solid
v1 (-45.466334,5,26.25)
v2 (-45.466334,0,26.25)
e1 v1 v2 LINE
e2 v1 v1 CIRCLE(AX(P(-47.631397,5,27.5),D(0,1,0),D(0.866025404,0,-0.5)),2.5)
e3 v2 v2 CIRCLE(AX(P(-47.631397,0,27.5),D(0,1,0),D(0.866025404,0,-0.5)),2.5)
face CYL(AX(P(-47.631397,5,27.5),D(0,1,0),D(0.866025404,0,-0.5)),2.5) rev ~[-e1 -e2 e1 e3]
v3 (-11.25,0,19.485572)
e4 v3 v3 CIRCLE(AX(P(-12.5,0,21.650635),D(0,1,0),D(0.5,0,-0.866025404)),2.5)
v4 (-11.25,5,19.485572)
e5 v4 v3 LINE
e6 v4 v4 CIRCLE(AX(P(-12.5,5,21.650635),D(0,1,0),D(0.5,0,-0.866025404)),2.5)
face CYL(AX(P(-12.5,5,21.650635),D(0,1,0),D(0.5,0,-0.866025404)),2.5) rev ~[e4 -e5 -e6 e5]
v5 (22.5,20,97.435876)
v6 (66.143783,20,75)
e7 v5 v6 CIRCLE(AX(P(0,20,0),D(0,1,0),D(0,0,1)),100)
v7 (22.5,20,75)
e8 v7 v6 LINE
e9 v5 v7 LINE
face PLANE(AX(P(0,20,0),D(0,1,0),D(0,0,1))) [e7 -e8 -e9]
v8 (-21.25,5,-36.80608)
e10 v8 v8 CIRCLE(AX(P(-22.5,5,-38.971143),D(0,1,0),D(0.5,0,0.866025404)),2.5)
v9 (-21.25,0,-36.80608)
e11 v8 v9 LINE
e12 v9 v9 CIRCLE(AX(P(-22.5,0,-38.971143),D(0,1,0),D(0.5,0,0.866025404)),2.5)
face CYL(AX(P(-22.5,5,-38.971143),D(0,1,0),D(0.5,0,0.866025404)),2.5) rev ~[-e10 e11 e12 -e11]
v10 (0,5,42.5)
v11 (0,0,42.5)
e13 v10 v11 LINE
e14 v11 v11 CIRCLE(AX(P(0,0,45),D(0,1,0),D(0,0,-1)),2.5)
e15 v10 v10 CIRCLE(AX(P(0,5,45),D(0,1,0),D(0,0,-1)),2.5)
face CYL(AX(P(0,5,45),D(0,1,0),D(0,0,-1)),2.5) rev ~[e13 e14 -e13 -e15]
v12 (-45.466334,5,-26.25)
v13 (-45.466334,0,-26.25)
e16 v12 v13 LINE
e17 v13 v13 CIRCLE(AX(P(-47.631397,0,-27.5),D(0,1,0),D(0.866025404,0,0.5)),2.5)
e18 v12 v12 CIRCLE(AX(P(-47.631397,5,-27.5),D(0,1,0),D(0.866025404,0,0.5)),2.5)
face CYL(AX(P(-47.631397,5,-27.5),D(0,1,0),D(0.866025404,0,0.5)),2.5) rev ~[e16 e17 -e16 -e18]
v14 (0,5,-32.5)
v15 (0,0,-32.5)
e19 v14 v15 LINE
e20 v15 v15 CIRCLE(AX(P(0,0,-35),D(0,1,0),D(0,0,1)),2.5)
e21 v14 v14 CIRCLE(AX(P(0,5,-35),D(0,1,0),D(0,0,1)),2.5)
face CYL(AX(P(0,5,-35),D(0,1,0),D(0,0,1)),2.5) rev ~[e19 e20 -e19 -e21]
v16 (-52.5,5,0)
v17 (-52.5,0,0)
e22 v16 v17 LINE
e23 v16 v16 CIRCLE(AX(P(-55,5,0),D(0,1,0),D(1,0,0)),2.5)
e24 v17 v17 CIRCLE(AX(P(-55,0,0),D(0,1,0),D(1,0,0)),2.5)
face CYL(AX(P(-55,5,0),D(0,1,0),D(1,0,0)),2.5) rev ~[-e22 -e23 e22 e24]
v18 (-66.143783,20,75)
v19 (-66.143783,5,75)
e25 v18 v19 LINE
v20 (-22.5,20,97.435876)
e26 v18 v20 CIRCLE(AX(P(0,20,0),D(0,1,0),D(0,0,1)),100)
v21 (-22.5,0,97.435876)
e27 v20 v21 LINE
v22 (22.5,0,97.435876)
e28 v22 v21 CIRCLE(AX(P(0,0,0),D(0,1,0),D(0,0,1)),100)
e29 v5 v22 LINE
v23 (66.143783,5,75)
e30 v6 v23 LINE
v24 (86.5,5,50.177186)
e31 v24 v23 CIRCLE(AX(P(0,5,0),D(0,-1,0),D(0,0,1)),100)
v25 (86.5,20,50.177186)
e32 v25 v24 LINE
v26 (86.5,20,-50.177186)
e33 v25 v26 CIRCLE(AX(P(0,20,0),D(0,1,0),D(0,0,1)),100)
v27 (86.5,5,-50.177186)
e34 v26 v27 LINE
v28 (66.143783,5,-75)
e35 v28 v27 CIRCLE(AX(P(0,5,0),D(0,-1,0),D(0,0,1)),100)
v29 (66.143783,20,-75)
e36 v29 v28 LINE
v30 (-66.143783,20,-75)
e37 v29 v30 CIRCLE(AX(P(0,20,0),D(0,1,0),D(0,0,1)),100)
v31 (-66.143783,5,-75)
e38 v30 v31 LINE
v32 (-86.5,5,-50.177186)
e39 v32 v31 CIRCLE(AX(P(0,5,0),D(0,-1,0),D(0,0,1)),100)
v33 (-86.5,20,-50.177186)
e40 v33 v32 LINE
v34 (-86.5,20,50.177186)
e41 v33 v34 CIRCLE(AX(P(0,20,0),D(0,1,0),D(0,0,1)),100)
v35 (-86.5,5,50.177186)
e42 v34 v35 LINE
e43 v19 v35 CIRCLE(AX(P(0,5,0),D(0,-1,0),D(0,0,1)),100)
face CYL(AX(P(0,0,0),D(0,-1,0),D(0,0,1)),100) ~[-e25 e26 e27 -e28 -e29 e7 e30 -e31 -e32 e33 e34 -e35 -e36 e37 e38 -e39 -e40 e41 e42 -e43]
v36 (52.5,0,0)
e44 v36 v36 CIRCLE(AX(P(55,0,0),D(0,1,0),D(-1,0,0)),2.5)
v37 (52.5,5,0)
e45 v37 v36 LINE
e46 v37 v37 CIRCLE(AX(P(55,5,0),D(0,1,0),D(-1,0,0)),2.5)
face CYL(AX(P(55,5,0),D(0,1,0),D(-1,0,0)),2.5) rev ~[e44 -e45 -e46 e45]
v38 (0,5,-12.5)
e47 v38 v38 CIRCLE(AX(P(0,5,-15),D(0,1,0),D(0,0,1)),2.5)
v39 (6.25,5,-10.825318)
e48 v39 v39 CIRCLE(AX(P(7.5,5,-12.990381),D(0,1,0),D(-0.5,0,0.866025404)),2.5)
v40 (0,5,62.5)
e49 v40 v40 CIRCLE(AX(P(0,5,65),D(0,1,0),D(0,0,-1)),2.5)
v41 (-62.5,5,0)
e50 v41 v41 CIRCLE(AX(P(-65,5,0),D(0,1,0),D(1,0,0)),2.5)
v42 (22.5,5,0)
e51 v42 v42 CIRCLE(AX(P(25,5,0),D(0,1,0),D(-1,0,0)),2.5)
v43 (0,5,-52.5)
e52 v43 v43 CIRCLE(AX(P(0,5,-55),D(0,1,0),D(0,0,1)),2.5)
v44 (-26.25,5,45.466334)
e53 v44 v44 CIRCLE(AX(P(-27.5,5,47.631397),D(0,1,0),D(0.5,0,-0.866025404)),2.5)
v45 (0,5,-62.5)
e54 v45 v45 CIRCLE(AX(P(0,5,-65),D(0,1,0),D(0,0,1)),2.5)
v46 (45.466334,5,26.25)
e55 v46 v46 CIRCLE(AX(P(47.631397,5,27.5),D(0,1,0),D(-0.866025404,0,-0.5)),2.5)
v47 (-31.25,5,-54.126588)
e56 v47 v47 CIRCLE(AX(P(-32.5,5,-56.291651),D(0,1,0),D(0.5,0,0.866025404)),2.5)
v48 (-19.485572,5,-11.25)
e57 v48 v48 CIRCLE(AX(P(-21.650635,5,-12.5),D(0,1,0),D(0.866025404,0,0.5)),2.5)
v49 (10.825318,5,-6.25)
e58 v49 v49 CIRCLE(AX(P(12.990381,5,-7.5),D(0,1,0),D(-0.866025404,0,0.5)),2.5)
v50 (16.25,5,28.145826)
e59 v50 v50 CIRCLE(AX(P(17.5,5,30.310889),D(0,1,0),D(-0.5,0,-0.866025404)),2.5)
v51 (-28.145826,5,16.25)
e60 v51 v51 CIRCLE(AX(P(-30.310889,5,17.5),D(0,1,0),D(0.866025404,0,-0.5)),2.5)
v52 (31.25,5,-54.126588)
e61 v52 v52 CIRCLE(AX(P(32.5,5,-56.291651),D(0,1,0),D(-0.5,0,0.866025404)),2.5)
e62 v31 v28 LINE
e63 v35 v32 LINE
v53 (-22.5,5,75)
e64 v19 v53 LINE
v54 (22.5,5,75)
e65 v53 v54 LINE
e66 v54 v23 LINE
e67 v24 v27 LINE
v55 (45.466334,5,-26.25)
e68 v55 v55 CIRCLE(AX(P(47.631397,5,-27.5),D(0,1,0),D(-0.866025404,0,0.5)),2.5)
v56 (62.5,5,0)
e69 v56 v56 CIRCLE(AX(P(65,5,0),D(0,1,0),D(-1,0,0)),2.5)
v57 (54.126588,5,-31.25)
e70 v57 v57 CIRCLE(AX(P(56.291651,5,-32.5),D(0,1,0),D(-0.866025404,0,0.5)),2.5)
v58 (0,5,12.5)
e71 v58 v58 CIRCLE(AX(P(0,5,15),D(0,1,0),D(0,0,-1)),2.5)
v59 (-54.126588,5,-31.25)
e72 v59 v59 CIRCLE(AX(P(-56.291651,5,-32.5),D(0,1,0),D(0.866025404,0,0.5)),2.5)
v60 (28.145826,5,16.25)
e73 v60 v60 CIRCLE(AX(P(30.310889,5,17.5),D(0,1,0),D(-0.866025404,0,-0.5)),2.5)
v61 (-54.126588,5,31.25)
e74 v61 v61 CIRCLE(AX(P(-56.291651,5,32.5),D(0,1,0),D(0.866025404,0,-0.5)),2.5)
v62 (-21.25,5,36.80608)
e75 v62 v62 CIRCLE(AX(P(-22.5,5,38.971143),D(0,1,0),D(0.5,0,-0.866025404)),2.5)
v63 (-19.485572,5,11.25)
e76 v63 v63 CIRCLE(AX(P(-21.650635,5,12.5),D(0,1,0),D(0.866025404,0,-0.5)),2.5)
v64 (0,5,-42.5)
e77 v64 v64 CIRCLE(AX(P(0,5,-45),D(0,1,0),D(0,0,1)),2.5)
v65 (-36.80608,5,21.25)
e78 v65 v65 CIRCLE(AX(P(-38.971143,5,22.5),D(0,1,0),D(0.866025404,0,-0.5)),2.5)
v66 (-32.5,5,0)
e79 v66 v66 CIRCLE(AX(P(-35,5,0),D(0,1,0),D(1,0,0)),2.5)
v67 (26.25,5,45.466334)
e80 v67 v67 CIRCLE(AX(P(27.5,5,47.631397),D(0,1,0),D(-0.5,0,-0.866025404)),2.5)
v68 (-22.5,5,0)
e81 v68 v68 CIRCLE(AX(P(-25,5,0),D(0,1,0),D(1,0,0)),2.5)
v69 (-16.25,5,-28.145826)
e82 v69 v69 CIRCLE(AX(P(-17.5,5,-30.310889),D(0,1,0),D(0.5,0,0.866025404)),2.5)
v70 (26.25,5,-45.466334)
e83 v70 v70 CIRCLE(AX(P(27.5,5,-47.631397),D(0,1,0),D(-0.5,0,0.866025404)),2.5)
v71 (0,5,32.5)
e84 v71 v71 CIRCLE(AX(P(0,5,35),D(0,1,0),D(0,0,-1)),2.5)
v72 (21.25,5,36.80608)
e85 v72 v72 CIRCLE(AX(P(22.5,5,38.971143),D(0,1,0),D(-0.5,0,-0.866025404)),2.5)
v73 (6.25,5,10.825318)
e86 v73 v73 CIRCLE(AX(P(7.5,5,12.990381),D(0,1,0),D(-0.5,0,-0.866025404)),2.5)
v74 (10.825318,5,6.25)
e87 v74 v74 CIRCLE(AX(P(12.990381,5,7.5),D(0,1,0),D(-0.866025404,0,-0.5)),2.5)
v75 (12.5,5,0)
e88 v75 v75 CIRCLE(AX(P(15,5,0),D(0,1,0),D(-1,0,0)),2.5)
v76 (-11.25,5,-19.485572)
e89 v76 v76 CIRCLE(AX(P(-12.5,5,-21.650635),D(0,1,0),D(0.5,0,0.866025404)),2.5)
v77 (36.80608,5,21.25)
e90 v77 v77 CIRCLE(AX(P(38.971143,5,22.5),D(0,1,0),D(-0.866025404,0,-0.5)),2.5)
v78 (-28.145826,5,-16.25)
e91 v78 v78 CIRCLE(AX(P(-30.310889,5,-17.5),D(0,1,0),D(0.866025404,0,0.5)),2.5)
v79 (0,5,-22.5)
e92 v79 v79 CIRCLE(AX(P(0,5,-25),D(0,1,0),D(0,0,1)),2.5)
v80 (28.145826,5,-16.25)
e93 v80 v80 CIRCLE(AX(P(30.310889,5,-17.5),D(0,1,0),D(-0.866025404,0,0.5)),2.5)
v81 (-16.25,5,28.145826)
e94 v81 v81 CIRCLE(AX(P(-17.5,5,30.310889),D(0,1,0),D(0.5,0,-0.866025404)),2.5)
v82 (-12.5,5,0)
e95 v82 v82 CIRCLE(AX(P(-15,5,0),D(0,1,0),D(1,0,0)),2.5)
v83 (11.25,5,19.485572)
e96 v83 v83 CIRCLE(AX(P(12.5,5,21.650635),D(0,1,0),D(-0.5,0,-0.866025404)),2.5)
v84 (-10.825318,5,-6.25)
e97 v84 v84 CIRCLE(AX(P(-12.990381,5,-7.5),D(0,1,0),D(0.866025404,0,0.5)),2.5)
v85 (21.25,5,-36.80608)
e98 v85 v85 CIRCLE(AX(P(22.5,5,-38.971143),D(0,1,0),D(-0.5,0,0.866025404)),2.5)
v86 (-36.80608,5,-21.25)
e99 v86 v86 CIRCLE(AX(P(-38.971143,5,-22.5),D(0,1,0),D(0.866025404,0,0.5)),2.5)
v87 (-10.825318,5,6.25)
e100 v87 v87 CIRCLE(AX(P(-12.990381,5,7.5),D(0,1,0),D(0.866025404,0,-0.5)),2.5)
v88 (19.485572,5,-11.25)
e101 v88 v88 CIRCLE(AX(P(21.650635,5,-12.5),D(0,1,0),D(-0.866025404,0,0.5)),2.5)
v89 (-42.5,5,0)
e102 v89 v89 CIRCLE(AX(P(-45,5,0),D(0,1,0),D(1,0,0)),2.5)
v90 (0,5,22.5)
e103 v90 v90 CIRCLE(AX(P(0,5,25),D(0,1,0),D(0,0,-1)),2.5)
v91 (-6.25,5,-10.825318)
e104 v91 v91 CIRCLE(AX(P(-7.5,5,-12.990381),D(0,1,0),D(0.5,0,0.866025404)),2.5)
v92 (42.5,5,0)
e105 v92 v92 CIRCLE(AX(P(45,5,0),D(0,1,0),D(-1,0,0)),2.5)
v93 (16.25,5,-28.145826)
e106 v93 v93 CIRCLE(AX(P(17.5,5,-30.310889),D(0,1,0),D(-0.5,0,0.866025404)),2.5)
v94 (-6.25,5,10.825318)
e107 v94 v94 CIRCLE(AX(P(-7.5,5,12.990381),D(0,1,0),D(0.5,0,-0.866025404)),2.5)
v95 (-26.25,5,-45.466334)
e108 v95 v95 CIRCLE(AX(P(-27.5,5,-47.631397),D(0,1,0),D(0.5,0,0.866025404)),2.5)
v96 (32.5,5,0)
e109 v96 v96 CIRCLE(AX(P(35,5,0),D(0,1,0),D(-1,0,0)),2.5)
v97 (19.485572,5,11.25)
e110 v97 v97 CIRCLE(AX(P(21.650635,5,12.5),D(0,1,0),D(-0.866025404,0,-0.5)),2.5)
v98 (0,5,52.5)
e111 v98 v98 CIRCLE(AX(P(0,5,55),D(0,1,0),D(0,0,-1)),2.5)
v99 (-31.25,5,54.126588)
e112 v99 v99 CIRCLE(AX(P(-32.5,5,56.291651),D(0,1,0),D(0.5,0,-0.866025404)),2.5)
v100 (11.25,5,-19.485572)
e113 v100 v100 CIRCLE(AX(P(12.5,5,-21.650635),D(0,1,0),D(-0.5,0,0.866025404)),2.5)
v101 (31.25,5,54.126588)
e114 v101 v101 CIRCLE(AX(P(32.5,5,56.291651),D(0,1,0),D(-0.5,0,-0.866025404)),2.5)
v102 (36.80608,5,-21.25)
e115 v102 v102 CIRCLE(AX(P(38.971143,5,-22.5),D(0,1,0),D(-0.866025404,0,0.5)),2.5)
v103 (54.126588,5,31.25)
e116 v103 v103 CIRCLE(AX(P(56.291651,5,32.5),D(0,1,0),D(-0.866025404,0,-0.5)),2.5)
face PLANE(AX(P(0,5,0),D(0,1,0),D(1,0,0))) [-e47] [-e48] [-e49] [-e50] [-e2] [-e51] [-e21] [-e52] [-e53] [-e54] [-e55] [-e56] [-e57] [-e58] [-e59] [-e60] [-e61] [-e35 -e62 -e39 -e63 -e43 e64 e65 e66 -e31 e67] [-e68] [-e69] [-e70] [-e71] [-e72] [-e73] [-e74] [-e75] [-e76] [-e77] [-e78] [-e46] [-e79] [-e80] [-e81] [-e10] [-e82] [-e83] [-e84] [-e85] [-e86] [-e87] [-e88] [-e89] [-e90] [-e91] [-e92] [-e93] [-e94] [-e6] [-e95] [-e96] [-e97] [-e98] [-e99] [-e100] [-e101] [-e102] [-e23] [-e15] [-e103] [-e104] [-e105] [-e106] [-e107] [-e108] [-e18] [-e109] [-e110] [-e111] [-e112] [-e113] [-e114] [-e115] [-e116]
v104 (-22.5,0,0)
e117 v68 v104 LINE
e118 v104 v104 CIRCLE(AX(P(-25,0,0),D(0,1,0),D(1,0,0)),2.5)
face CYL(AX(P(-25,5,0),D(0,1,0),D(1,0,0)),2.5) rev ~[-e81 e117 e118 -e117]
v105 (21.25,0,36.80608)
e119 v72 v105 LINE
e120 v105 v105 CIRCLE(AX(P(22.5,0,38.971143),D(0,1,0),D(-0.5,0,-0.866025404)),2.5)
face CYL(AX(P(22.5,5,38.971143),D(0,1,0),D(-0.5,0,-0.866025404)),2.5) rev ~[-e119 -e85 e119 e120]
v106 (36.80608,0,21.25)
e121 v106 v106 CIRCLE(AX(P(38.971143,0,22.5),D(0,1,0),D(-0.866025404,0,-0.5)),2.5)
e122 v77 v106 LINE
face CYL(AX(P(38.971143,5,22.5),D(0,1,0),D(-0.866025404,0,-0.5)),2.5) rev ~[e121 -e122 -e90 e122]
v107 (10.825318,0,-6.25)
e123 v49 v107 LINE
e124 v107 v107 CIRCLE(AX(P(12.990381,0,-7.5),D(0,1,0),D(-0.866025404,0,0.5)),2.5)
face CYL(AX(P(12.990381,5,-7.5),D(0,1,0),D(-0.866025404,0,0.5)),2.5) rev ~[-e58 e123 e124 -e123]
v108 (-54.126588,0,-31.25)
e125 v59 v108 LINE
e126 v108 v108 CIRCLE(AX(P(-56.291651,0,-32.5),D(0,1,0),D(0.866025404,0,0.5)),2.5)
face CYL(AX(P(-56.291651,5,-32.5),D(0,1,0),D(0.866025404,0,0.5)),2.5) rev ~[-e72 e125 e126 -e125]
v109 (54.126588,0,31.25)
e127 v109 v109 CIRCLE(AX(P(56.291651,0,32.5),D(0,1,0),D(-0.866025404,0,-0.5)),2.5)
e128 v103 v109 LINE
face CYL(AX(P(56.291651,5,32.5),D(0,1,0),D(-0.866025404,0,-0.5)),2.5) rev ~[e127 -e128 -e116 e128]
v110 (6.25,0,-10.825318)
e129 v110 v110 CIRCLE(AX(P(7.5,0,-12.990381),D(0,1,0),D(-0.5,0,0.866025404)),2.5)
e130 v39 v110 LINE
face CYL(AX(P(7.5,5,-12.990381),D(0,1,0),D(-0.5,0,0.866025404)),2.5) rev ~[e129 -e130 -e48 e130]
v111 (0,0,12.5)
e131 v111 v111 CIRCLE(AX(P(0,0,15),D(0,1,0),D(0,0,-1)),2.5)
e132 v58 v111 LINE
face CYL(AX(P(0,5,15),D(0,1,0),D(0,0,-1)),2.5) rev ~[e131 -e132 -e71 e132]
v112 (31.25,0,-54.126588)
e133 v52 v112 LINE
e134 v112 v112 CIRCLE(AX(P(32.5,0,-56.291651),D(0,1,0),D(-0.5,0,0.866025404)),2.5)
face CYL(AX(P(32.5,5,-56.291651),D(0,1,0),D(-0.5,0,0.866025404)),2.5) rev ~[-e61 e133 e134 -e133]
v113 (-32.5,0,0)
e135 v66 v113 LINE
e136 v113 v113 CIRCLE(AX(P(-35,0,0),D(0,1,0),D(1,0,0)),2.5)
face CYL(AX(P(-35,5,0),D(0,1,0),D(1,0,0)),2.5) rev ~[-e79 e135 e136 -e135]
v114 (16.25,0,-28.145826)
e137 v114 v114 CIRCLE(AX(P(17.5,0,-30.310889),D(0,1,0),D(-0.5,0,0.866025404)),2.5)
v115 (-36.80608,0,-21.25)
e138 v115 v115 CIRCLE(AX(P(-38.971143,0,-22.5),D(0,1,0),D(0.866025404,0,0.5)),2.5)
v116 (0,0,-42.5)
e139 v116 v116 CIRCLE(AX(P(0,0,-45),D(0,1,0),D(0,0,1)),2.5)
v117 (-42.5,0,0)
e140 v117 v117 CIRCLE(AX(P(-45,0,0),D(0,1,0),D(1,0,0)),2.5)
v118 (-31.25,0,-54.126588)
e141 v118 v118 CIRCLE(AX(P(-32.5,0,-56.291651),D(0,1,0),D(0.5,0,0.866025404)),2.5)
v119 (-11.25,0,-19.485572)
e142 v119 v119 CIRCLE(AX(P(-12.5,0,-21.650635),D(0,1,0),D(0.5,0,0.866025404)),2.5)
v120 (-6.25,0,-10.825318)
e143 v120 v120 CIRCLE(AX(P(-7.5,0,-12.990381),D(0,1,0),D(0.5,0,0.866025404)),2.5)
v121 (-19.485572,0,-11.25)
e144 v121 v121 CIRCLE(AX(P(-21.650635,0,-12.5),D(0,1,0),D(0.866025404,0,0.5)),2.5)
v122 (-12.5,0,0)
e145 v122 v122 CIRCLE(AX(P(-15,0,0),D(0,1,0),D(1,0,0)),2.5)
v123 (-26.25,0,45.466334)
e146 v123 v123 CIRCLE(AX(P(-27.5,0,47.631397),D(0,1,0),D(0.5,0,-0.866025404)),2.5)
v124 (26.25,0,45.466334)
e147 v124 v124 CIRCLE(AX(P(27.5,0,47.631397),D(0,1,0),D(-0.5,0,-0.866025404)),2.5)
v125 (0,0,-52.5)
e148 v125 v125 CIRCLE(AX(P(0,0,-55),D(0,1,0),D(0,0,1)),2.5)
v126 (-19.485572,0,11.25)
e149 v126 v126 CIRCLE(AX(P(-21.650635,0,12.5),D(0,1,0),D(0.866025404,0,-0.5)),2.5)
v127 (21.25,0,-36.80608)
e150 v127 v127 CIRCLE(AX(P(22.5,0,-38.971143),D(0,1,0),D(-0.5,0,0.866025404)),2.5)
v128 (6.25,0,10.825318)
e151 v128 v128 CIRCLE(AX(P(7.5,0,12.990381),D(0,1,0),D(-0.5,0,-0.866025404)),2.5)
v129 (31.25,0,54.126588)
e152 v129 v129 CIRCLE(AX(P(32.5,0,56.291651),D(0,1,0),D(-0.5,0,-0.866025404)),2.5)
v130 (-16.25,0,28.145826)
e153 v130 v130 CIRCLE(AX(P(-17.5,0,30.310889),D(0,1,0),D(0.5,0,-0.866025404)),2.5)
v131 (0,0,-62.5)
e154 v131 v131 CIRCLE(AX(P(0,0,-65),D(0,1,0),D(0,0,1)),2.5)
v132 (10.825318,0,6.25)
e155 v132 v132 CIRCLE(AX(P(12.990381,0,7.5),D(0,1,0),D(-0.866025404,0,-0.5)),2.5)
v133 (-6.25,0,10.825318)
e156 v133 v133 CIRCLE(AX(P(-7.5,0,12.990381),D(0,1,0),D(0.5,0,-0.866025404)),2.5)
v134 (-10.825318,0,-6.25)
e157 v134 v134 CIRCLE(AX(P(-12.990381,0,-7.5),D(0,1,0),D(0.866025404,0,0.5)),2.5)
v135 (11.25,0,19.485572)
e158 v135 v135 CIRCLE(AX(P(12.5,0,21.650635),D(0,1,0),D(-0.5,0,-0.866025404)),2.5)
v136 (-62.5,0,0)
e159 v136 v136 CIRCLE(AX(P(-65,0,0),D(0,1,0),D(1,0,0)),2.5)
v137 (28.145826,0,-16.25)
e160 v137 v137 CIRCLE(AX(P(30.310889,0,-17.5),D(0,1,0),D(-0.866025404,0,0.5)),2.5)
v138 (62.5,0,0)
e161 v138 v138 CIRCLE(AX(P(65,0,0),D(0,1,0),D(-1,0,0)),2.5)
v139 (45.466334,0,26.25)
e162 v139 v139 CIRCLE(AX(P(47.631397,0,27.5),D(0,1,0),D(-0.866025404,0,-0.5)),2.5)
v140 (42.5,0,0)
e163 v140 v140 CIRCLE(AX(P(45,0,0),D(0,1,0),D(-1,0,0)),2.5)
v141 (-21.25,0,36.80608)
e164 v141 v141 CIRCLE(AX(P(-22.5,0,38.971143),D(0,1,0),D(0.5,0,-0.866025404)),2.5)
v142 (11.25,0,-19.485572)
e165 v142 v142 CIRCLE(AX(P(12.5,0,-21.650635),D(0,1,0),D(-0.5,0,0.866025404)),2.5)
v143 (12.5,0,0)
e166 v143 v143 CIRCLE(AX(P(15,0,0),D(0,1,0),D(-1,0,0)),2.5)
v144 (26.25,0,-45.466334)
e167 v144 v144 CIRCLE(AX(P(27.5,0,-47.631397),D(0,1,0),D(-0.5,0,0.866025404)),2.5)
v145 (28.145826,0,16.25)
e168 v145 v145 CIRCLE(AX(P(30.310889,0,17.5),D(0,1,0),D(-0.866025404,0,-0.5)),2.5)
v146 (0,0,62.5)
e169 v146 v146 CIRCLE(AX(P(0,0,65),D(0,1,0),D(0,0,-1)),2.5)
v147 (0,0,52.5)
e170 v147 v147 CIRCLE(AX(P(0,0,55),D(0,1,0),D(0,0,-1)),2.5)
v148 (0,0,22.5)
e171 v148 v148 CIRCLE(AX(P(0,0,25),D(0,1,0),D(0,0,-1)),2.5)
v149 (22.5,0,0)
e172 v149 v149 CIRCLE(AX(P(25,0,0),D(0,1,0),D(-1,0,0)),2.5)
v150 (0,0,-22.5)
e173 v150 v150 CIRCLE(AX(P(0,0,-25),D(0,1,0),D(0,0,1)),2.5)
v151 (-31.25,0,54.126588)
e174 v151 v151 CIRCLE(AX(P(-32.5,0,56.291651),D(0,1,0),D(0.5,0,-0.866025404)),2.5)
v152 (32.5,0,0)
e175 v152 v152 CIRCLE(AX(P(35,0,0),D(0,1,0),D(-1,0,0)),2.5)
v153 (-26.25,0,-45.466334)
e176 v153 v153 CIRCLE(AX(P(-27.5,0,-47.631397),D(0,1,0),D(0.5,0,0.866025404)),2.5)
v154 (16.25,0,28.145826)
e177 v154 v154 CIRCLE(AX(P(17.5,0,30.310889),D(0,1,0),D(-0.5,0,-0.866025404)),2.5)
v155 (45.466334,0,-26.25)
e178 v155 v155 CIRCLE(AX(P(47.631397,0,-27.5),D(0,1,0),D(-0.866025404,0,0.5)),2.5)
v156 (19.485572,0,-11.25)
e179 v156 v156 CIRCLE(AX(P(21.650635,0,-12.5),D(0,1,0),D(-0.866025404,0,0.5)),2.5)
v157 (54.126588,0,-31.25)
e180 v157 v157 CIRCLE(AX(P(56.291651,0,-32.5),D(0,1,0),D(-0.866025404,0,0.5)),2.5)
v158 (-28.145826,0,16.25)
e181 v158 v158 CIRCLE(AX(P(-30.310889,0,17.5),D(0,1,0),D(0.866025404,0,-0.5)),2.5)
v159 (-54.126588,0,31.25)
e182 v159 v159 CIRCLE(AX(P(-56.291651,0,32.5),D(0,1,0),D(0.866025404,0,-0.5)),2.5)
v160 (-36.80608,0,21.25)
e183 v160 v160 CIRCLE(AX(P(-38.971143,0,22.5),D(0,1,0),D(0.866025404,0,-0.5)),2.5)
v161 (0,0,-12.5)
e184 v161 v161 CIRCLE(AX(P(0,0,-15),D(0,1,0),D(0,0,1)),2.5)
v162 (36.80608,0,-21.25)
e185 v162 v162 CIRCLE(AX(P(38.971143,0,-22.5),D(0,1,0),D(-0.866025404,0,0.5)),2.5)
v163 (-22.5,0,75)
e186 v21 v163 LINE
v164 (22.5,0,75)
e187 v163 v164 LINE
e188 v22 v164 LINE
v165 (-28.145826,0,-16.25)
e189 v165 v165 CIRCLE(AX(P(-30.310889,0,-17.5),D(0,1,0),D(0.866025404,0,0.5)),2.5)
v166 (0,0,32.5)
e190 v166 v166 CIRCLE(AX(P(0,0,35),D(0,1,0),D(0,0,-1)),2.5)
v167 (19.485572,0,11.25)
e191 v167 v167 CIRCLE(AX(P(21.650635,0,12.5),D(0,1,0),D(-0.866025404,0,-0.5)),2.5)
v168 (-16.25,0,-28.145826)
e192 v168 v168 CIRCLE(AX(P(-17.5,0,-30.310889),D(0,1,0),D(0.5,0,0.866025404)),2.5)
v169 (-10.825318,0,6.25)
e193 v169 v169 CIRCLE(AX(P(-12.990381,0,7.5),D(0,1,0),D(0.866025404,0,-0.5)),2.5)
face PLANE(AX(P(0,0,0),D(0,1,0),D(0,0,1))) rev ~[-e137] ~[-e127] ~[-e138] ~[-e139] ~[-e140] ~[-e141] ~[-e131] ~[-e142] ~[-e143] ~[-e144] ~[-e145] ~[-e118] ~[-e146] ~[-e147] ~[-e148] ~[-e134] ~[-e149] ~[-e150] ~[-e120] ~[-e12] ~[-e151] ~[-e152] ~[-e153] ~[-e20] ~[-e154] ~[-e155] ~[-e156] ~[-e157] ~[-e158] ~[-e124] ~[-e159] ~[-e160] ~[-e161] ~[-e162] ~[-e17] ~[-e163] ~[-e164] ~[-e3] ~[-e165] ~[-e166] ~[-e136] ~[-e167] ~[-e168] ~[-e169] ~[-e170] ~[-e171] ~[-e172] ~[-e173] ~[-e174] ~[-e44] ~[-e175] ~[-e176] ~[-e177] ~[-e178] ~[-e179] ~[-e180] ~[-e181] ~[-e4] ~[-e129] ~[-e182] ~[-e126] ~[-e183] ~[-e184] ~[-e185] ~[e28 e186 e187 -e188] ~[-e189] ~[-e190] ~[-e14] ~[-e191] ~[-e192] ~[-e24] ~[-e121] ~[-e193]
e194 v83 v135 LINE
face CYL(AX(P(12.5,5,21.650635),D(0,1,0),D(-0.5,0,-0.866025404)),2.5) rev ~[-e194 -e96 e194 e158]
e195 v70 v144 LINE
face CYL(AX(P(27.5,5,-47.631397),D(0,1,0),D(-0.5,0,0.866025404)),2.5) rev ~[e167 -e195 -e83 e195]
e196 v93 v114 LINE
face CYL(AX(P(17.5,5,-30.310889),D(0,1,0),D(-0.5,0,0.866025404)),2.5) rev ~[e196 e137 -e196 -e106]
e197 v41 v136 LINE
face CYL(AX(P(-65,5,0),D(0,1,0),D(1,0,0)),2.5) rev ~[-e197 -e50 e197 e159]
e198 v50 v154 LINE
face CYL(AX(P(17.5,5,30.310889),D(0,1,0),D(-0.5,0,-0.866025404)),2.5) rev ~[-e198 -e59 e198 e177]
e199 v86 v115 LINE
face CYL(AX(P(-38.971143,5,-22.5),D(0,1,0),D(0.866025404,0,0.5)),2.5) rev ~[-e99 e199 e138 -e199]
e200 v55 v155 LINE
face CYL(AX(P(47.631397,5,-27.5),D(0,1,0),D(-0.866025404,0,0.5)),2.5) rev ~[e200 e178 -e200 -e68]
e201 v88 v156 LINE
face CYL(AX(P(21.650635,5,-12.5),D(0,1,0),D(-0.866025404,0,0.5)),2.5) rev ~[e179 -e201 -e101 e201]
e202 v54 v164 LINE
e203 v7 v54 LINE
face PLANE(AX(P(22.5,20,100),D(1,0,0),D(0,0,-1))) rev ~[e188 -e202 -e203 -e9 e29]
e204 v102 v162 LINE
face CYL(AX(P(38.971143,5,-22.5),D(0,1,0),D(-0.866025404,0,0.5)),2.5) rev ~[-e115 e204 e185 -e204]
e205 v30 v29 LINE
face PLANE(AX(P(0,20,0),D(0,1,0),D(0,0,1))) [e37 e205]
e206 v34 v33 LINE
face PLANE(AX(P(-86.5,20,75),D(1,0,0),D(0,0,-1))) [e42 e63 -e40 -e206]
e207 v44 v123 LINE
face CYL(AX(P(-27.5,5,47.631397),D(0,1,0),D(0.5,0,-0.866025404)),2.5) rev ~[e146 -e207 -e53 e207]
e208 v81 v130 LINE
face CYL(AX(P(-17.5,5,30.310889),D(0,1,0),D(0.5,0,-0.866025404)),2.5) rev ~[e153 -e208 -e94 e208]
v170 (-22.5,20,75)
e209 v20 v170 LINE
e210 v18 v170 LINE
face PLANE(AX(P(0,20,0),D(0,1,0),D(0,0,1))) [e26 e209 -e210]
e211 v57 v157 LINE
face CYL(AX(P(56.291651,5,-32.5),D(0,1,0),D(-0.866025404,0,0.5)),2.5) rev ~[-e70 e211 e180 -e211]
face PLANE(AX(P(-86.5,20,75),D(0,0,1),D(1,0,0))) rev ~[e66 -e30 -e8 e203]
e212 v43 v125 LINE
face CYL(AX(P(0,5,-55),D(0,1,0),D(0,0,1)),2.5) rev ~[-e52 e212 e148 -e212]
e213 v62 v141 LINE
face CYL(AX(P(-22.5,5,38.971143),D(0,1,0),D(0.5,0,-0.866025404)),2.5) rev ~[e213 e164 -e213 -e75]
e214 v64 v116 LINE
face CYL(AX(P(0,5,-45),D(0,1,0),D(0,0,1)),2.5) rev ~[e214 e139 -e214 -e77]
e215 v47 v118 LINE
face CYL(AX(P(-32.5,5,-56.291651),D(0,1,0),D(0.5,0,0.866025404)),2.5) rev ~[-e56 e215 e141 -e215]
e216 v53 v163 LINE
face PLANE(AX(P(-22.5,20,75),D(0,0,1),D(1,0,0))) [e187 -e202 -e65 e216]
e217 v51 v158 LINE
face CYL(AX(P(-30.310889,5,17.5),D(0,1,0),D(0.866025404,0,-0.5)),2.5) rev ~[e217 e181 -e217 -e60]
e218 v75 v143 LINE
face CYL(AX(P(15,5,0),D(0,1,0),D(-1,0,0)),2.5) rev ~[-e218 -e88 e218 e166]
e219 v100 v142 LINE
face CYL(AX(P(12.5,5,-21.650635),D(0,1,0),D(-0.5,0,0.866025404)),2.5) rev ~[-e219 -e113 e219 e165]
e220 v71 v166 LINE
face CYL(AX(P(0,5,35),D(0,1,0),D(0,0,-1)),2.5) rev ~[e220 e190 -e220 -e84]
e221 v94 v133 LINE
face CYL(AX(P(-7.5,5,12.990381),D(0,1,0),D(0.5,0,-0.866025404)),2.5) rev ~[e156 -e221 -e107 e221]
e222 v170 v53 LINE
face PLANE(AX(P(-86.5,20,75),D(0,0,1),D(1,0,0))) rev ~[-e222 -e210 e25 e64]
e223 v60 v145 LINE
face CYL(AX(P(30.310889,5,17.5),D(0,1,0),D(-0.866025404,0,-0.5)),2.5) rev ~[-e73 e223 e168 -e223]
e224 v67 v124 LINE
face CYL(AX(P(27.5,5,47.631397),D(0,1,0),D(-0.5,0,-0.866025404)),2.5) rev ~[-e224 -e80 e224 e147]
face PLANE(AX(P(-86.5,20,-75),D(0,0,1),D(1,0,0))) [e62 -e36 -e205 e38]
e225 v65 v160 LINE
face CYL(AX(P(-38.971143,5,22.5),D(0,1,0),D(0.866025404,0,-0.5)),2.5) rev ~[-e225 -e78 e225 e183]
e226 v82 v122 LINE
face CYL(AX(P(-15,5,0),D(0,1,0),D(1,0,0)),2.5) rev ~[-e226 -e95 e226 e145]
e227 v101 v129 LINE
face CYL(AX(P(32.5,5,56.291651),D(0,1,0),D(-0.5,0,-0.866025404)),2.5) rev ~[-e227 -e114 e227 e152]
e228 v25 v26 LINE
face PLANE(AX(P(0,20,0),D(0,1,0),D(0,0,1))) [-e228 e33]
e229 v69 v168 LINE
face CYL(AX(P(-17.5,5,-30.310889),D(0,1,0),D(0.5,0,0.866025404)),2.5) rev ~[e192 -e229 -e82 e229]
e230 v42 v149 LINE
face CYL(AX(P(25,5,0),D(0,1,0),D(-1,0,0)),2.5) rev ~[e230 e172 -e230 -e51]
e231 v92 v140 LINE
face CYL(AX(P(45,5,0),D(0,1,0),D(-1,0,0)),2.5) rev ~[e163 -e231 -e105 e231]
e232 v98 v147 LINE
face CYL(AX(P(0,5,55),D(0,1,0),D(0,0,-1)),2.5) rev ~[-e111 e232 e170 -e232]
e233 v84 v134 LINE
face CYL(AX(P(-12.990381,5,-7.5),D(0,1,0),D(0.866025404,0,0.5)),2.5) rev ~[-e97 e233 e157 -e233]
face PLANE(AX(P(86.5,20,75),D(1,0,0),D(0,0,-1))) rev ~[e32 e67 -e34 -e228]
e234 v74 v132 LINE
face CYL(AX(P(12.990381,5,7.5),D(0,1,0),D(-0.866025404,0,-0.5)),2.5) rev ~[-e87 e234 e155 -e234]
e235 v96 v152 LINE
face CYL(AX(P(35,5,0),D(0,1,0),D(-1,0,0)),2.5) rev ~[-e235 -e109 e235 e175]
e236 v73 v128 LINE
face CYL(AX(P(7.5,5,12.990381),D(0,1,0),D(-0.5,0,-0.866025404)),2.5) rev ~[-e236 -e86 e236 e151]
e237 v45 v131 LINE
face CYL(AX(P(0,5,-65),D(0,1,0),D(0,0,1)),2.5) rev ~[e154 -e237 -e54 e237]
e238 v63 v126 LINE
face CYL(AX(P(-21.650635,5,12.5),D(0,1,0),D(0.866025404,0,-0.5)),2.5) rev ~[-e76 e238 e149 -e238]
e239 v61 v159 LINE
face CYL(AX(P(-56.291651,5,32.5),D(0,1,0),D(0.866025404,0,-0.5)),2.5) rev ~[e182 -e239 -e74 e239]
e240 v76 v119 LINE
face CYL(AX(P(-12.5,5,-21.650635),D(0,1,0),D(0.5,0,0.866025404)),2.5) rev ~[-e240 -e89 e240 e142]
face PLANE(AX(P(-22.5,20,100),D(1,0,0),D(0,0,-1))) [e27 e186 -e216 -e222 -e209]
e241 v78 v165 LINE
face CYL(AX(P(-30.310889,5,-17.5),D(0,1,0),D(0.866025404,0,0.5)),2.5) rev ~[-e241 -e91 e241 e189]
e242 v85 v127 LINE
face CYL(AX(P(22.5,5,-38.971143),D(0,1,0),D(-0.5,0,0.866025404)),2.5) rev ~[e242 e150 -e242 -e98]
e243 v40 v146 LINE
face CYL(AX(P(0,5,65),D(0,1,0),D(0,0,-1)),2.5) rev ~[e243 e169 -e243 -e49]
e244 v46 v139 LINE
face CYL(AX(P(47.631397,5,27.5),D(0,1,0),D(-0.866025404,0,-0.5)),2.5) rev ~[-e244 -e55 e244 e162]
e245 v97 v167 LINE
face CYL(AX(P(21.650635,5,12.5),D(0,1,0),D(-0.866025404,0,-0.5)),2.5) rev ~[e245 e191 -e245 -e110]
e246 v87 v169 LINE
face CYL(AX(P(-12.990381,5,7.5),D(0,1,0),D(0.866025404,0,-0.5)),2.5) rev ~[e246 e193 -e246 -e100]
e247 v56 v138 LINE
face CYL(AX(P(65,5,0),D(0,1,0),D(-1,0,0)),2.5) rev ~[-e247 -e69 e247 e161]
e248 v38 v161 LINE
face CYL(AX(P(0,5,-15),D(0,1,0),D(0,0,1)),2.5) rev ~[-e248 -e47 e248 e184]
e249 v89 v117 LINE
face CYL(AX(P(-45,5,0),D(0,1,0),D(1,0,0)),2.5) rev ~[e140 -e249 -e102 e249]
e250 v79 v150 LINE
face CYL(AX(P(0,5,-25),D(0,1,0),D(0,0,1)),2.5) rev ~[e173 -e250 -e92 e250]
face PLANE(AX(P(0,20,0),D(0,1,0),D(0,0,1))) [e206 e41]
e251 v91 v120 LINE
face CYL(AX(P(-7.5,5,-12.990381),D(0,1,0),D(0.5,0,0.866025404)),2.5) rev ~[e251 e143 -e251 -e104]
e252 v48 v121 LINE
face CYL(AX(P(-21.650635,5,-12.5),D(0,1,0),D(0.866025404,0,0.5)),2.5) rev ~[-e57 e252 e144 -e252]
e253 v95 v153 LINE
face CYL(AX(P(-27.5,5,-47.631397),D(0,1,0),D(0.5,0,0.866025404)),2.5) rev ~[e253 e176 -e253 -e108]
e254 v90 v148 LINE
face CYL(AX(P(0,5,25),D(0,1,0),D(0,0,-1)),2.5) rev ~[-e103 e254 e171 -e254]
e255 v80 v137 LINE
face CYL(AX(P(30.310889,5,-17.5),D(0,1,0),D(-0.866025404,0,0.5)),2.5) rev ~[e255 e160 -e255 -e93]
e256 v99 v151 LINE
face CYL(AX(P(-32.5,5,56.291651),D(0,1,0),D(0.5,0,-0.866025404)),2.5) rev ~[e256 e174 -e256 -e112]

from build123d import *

# Parameters (mm, degrees)
SKETCH_1_R               = 100
EXTRUDE_1_DEPTH          = 20
SKETCH_2_W               = 173
SKETCH_2_H               = 150
CUT_EXTRUDE_1_DEPTH      = 15
SKETCH_3_R               = 2.5
CUT_EXTRUDE_2_DEPTH      = 143.214626533
PATTERN_CIRCULAR_2_COUNT = 12
SKETCH_4_W               = 45
SKETCH_4_H               = 25
CUT_EXTRUDE_3_DEPTH      = 143.828568571


with BuildPart() as part:
    # 草圖1 → 填料-伸長1 (new body)
    with BuildSketch(Plane(origin=(0, 0, 0), x_dir=(1, 0, 0), z_dir=(0, 1, 0))):
        Circle(SKETCH_1_R)
    extrude(amount=EXTRUDE_1_DEPTH)

    # 草圖2 → 除料-伸長1 (cut)
    with BuildSketch(Plane(origin=(0, 20, 0), x_dir=(1, 0, 0), z_dir=(0, 1, 0))):
        Rectangle(SKETCH_2_W, SKETCH_2_H)
    extrude(amount=-CUT_EXTRUDE_1_DEPTH, mode=Mode.SUBTRACT)

    # 草圖3 → 除料-伸長2 (cut, through all)
    with BuildSketch(Plane(origin=(0, 5, 0), x_dir=(1, 0, 0), z_dir=(0, 1, 0))):
        with Locations((0, 65)):
            Circle(SKETCH_3_R)
        with Locations((0, 55)):
            Circle(SKETCH_3_R)
        with Locations((0, 45)):
            Circle(SKETCH_3_R)
        with Locations((0, 35)):
            Circle(SKETCH_3_R)
        with Locations((0, 25)):
            Circle(SKETCH_3_R)
        with Locations((0, 15)):
            Circle(SKETCH_3_R)
    cut_extrude_2 = extrude(amount=-CUT_EXTRUDE_2_DEPTH, mode=Mode.SUBTRACT)

    # 環狀複製排列2: 除料-伸長2 ×12 about axis
    pattern_circular_2_axis = Axis((0, 20, 0), (0, -1, 0))
    for i in range(1, PATTERN_CIRCULAR_2_COUNT):
        add(cut_extrude_2.rotate(pattern_circular_2_axis, i * 360 / PATTERN_CIRCULAR_2_COUNT), mode=Mode.SUBTRACT)

    # 草圖4 → 除料-伸長3 (cut, through all)
    with BuildSketch(Plane(origin=(0, 20, 0), x_dir=(1, 0, 0), z_dir=(0, 1, 0))):
        with Locations((0, -87.5)):
            Rectangle(SKETCH_4_W, SKETCH_4_H)
    extrude(amount=-CUT_EXTRUDE_3_DEPTH, mode=Mode.SUBTRACT)


solid = part.part
